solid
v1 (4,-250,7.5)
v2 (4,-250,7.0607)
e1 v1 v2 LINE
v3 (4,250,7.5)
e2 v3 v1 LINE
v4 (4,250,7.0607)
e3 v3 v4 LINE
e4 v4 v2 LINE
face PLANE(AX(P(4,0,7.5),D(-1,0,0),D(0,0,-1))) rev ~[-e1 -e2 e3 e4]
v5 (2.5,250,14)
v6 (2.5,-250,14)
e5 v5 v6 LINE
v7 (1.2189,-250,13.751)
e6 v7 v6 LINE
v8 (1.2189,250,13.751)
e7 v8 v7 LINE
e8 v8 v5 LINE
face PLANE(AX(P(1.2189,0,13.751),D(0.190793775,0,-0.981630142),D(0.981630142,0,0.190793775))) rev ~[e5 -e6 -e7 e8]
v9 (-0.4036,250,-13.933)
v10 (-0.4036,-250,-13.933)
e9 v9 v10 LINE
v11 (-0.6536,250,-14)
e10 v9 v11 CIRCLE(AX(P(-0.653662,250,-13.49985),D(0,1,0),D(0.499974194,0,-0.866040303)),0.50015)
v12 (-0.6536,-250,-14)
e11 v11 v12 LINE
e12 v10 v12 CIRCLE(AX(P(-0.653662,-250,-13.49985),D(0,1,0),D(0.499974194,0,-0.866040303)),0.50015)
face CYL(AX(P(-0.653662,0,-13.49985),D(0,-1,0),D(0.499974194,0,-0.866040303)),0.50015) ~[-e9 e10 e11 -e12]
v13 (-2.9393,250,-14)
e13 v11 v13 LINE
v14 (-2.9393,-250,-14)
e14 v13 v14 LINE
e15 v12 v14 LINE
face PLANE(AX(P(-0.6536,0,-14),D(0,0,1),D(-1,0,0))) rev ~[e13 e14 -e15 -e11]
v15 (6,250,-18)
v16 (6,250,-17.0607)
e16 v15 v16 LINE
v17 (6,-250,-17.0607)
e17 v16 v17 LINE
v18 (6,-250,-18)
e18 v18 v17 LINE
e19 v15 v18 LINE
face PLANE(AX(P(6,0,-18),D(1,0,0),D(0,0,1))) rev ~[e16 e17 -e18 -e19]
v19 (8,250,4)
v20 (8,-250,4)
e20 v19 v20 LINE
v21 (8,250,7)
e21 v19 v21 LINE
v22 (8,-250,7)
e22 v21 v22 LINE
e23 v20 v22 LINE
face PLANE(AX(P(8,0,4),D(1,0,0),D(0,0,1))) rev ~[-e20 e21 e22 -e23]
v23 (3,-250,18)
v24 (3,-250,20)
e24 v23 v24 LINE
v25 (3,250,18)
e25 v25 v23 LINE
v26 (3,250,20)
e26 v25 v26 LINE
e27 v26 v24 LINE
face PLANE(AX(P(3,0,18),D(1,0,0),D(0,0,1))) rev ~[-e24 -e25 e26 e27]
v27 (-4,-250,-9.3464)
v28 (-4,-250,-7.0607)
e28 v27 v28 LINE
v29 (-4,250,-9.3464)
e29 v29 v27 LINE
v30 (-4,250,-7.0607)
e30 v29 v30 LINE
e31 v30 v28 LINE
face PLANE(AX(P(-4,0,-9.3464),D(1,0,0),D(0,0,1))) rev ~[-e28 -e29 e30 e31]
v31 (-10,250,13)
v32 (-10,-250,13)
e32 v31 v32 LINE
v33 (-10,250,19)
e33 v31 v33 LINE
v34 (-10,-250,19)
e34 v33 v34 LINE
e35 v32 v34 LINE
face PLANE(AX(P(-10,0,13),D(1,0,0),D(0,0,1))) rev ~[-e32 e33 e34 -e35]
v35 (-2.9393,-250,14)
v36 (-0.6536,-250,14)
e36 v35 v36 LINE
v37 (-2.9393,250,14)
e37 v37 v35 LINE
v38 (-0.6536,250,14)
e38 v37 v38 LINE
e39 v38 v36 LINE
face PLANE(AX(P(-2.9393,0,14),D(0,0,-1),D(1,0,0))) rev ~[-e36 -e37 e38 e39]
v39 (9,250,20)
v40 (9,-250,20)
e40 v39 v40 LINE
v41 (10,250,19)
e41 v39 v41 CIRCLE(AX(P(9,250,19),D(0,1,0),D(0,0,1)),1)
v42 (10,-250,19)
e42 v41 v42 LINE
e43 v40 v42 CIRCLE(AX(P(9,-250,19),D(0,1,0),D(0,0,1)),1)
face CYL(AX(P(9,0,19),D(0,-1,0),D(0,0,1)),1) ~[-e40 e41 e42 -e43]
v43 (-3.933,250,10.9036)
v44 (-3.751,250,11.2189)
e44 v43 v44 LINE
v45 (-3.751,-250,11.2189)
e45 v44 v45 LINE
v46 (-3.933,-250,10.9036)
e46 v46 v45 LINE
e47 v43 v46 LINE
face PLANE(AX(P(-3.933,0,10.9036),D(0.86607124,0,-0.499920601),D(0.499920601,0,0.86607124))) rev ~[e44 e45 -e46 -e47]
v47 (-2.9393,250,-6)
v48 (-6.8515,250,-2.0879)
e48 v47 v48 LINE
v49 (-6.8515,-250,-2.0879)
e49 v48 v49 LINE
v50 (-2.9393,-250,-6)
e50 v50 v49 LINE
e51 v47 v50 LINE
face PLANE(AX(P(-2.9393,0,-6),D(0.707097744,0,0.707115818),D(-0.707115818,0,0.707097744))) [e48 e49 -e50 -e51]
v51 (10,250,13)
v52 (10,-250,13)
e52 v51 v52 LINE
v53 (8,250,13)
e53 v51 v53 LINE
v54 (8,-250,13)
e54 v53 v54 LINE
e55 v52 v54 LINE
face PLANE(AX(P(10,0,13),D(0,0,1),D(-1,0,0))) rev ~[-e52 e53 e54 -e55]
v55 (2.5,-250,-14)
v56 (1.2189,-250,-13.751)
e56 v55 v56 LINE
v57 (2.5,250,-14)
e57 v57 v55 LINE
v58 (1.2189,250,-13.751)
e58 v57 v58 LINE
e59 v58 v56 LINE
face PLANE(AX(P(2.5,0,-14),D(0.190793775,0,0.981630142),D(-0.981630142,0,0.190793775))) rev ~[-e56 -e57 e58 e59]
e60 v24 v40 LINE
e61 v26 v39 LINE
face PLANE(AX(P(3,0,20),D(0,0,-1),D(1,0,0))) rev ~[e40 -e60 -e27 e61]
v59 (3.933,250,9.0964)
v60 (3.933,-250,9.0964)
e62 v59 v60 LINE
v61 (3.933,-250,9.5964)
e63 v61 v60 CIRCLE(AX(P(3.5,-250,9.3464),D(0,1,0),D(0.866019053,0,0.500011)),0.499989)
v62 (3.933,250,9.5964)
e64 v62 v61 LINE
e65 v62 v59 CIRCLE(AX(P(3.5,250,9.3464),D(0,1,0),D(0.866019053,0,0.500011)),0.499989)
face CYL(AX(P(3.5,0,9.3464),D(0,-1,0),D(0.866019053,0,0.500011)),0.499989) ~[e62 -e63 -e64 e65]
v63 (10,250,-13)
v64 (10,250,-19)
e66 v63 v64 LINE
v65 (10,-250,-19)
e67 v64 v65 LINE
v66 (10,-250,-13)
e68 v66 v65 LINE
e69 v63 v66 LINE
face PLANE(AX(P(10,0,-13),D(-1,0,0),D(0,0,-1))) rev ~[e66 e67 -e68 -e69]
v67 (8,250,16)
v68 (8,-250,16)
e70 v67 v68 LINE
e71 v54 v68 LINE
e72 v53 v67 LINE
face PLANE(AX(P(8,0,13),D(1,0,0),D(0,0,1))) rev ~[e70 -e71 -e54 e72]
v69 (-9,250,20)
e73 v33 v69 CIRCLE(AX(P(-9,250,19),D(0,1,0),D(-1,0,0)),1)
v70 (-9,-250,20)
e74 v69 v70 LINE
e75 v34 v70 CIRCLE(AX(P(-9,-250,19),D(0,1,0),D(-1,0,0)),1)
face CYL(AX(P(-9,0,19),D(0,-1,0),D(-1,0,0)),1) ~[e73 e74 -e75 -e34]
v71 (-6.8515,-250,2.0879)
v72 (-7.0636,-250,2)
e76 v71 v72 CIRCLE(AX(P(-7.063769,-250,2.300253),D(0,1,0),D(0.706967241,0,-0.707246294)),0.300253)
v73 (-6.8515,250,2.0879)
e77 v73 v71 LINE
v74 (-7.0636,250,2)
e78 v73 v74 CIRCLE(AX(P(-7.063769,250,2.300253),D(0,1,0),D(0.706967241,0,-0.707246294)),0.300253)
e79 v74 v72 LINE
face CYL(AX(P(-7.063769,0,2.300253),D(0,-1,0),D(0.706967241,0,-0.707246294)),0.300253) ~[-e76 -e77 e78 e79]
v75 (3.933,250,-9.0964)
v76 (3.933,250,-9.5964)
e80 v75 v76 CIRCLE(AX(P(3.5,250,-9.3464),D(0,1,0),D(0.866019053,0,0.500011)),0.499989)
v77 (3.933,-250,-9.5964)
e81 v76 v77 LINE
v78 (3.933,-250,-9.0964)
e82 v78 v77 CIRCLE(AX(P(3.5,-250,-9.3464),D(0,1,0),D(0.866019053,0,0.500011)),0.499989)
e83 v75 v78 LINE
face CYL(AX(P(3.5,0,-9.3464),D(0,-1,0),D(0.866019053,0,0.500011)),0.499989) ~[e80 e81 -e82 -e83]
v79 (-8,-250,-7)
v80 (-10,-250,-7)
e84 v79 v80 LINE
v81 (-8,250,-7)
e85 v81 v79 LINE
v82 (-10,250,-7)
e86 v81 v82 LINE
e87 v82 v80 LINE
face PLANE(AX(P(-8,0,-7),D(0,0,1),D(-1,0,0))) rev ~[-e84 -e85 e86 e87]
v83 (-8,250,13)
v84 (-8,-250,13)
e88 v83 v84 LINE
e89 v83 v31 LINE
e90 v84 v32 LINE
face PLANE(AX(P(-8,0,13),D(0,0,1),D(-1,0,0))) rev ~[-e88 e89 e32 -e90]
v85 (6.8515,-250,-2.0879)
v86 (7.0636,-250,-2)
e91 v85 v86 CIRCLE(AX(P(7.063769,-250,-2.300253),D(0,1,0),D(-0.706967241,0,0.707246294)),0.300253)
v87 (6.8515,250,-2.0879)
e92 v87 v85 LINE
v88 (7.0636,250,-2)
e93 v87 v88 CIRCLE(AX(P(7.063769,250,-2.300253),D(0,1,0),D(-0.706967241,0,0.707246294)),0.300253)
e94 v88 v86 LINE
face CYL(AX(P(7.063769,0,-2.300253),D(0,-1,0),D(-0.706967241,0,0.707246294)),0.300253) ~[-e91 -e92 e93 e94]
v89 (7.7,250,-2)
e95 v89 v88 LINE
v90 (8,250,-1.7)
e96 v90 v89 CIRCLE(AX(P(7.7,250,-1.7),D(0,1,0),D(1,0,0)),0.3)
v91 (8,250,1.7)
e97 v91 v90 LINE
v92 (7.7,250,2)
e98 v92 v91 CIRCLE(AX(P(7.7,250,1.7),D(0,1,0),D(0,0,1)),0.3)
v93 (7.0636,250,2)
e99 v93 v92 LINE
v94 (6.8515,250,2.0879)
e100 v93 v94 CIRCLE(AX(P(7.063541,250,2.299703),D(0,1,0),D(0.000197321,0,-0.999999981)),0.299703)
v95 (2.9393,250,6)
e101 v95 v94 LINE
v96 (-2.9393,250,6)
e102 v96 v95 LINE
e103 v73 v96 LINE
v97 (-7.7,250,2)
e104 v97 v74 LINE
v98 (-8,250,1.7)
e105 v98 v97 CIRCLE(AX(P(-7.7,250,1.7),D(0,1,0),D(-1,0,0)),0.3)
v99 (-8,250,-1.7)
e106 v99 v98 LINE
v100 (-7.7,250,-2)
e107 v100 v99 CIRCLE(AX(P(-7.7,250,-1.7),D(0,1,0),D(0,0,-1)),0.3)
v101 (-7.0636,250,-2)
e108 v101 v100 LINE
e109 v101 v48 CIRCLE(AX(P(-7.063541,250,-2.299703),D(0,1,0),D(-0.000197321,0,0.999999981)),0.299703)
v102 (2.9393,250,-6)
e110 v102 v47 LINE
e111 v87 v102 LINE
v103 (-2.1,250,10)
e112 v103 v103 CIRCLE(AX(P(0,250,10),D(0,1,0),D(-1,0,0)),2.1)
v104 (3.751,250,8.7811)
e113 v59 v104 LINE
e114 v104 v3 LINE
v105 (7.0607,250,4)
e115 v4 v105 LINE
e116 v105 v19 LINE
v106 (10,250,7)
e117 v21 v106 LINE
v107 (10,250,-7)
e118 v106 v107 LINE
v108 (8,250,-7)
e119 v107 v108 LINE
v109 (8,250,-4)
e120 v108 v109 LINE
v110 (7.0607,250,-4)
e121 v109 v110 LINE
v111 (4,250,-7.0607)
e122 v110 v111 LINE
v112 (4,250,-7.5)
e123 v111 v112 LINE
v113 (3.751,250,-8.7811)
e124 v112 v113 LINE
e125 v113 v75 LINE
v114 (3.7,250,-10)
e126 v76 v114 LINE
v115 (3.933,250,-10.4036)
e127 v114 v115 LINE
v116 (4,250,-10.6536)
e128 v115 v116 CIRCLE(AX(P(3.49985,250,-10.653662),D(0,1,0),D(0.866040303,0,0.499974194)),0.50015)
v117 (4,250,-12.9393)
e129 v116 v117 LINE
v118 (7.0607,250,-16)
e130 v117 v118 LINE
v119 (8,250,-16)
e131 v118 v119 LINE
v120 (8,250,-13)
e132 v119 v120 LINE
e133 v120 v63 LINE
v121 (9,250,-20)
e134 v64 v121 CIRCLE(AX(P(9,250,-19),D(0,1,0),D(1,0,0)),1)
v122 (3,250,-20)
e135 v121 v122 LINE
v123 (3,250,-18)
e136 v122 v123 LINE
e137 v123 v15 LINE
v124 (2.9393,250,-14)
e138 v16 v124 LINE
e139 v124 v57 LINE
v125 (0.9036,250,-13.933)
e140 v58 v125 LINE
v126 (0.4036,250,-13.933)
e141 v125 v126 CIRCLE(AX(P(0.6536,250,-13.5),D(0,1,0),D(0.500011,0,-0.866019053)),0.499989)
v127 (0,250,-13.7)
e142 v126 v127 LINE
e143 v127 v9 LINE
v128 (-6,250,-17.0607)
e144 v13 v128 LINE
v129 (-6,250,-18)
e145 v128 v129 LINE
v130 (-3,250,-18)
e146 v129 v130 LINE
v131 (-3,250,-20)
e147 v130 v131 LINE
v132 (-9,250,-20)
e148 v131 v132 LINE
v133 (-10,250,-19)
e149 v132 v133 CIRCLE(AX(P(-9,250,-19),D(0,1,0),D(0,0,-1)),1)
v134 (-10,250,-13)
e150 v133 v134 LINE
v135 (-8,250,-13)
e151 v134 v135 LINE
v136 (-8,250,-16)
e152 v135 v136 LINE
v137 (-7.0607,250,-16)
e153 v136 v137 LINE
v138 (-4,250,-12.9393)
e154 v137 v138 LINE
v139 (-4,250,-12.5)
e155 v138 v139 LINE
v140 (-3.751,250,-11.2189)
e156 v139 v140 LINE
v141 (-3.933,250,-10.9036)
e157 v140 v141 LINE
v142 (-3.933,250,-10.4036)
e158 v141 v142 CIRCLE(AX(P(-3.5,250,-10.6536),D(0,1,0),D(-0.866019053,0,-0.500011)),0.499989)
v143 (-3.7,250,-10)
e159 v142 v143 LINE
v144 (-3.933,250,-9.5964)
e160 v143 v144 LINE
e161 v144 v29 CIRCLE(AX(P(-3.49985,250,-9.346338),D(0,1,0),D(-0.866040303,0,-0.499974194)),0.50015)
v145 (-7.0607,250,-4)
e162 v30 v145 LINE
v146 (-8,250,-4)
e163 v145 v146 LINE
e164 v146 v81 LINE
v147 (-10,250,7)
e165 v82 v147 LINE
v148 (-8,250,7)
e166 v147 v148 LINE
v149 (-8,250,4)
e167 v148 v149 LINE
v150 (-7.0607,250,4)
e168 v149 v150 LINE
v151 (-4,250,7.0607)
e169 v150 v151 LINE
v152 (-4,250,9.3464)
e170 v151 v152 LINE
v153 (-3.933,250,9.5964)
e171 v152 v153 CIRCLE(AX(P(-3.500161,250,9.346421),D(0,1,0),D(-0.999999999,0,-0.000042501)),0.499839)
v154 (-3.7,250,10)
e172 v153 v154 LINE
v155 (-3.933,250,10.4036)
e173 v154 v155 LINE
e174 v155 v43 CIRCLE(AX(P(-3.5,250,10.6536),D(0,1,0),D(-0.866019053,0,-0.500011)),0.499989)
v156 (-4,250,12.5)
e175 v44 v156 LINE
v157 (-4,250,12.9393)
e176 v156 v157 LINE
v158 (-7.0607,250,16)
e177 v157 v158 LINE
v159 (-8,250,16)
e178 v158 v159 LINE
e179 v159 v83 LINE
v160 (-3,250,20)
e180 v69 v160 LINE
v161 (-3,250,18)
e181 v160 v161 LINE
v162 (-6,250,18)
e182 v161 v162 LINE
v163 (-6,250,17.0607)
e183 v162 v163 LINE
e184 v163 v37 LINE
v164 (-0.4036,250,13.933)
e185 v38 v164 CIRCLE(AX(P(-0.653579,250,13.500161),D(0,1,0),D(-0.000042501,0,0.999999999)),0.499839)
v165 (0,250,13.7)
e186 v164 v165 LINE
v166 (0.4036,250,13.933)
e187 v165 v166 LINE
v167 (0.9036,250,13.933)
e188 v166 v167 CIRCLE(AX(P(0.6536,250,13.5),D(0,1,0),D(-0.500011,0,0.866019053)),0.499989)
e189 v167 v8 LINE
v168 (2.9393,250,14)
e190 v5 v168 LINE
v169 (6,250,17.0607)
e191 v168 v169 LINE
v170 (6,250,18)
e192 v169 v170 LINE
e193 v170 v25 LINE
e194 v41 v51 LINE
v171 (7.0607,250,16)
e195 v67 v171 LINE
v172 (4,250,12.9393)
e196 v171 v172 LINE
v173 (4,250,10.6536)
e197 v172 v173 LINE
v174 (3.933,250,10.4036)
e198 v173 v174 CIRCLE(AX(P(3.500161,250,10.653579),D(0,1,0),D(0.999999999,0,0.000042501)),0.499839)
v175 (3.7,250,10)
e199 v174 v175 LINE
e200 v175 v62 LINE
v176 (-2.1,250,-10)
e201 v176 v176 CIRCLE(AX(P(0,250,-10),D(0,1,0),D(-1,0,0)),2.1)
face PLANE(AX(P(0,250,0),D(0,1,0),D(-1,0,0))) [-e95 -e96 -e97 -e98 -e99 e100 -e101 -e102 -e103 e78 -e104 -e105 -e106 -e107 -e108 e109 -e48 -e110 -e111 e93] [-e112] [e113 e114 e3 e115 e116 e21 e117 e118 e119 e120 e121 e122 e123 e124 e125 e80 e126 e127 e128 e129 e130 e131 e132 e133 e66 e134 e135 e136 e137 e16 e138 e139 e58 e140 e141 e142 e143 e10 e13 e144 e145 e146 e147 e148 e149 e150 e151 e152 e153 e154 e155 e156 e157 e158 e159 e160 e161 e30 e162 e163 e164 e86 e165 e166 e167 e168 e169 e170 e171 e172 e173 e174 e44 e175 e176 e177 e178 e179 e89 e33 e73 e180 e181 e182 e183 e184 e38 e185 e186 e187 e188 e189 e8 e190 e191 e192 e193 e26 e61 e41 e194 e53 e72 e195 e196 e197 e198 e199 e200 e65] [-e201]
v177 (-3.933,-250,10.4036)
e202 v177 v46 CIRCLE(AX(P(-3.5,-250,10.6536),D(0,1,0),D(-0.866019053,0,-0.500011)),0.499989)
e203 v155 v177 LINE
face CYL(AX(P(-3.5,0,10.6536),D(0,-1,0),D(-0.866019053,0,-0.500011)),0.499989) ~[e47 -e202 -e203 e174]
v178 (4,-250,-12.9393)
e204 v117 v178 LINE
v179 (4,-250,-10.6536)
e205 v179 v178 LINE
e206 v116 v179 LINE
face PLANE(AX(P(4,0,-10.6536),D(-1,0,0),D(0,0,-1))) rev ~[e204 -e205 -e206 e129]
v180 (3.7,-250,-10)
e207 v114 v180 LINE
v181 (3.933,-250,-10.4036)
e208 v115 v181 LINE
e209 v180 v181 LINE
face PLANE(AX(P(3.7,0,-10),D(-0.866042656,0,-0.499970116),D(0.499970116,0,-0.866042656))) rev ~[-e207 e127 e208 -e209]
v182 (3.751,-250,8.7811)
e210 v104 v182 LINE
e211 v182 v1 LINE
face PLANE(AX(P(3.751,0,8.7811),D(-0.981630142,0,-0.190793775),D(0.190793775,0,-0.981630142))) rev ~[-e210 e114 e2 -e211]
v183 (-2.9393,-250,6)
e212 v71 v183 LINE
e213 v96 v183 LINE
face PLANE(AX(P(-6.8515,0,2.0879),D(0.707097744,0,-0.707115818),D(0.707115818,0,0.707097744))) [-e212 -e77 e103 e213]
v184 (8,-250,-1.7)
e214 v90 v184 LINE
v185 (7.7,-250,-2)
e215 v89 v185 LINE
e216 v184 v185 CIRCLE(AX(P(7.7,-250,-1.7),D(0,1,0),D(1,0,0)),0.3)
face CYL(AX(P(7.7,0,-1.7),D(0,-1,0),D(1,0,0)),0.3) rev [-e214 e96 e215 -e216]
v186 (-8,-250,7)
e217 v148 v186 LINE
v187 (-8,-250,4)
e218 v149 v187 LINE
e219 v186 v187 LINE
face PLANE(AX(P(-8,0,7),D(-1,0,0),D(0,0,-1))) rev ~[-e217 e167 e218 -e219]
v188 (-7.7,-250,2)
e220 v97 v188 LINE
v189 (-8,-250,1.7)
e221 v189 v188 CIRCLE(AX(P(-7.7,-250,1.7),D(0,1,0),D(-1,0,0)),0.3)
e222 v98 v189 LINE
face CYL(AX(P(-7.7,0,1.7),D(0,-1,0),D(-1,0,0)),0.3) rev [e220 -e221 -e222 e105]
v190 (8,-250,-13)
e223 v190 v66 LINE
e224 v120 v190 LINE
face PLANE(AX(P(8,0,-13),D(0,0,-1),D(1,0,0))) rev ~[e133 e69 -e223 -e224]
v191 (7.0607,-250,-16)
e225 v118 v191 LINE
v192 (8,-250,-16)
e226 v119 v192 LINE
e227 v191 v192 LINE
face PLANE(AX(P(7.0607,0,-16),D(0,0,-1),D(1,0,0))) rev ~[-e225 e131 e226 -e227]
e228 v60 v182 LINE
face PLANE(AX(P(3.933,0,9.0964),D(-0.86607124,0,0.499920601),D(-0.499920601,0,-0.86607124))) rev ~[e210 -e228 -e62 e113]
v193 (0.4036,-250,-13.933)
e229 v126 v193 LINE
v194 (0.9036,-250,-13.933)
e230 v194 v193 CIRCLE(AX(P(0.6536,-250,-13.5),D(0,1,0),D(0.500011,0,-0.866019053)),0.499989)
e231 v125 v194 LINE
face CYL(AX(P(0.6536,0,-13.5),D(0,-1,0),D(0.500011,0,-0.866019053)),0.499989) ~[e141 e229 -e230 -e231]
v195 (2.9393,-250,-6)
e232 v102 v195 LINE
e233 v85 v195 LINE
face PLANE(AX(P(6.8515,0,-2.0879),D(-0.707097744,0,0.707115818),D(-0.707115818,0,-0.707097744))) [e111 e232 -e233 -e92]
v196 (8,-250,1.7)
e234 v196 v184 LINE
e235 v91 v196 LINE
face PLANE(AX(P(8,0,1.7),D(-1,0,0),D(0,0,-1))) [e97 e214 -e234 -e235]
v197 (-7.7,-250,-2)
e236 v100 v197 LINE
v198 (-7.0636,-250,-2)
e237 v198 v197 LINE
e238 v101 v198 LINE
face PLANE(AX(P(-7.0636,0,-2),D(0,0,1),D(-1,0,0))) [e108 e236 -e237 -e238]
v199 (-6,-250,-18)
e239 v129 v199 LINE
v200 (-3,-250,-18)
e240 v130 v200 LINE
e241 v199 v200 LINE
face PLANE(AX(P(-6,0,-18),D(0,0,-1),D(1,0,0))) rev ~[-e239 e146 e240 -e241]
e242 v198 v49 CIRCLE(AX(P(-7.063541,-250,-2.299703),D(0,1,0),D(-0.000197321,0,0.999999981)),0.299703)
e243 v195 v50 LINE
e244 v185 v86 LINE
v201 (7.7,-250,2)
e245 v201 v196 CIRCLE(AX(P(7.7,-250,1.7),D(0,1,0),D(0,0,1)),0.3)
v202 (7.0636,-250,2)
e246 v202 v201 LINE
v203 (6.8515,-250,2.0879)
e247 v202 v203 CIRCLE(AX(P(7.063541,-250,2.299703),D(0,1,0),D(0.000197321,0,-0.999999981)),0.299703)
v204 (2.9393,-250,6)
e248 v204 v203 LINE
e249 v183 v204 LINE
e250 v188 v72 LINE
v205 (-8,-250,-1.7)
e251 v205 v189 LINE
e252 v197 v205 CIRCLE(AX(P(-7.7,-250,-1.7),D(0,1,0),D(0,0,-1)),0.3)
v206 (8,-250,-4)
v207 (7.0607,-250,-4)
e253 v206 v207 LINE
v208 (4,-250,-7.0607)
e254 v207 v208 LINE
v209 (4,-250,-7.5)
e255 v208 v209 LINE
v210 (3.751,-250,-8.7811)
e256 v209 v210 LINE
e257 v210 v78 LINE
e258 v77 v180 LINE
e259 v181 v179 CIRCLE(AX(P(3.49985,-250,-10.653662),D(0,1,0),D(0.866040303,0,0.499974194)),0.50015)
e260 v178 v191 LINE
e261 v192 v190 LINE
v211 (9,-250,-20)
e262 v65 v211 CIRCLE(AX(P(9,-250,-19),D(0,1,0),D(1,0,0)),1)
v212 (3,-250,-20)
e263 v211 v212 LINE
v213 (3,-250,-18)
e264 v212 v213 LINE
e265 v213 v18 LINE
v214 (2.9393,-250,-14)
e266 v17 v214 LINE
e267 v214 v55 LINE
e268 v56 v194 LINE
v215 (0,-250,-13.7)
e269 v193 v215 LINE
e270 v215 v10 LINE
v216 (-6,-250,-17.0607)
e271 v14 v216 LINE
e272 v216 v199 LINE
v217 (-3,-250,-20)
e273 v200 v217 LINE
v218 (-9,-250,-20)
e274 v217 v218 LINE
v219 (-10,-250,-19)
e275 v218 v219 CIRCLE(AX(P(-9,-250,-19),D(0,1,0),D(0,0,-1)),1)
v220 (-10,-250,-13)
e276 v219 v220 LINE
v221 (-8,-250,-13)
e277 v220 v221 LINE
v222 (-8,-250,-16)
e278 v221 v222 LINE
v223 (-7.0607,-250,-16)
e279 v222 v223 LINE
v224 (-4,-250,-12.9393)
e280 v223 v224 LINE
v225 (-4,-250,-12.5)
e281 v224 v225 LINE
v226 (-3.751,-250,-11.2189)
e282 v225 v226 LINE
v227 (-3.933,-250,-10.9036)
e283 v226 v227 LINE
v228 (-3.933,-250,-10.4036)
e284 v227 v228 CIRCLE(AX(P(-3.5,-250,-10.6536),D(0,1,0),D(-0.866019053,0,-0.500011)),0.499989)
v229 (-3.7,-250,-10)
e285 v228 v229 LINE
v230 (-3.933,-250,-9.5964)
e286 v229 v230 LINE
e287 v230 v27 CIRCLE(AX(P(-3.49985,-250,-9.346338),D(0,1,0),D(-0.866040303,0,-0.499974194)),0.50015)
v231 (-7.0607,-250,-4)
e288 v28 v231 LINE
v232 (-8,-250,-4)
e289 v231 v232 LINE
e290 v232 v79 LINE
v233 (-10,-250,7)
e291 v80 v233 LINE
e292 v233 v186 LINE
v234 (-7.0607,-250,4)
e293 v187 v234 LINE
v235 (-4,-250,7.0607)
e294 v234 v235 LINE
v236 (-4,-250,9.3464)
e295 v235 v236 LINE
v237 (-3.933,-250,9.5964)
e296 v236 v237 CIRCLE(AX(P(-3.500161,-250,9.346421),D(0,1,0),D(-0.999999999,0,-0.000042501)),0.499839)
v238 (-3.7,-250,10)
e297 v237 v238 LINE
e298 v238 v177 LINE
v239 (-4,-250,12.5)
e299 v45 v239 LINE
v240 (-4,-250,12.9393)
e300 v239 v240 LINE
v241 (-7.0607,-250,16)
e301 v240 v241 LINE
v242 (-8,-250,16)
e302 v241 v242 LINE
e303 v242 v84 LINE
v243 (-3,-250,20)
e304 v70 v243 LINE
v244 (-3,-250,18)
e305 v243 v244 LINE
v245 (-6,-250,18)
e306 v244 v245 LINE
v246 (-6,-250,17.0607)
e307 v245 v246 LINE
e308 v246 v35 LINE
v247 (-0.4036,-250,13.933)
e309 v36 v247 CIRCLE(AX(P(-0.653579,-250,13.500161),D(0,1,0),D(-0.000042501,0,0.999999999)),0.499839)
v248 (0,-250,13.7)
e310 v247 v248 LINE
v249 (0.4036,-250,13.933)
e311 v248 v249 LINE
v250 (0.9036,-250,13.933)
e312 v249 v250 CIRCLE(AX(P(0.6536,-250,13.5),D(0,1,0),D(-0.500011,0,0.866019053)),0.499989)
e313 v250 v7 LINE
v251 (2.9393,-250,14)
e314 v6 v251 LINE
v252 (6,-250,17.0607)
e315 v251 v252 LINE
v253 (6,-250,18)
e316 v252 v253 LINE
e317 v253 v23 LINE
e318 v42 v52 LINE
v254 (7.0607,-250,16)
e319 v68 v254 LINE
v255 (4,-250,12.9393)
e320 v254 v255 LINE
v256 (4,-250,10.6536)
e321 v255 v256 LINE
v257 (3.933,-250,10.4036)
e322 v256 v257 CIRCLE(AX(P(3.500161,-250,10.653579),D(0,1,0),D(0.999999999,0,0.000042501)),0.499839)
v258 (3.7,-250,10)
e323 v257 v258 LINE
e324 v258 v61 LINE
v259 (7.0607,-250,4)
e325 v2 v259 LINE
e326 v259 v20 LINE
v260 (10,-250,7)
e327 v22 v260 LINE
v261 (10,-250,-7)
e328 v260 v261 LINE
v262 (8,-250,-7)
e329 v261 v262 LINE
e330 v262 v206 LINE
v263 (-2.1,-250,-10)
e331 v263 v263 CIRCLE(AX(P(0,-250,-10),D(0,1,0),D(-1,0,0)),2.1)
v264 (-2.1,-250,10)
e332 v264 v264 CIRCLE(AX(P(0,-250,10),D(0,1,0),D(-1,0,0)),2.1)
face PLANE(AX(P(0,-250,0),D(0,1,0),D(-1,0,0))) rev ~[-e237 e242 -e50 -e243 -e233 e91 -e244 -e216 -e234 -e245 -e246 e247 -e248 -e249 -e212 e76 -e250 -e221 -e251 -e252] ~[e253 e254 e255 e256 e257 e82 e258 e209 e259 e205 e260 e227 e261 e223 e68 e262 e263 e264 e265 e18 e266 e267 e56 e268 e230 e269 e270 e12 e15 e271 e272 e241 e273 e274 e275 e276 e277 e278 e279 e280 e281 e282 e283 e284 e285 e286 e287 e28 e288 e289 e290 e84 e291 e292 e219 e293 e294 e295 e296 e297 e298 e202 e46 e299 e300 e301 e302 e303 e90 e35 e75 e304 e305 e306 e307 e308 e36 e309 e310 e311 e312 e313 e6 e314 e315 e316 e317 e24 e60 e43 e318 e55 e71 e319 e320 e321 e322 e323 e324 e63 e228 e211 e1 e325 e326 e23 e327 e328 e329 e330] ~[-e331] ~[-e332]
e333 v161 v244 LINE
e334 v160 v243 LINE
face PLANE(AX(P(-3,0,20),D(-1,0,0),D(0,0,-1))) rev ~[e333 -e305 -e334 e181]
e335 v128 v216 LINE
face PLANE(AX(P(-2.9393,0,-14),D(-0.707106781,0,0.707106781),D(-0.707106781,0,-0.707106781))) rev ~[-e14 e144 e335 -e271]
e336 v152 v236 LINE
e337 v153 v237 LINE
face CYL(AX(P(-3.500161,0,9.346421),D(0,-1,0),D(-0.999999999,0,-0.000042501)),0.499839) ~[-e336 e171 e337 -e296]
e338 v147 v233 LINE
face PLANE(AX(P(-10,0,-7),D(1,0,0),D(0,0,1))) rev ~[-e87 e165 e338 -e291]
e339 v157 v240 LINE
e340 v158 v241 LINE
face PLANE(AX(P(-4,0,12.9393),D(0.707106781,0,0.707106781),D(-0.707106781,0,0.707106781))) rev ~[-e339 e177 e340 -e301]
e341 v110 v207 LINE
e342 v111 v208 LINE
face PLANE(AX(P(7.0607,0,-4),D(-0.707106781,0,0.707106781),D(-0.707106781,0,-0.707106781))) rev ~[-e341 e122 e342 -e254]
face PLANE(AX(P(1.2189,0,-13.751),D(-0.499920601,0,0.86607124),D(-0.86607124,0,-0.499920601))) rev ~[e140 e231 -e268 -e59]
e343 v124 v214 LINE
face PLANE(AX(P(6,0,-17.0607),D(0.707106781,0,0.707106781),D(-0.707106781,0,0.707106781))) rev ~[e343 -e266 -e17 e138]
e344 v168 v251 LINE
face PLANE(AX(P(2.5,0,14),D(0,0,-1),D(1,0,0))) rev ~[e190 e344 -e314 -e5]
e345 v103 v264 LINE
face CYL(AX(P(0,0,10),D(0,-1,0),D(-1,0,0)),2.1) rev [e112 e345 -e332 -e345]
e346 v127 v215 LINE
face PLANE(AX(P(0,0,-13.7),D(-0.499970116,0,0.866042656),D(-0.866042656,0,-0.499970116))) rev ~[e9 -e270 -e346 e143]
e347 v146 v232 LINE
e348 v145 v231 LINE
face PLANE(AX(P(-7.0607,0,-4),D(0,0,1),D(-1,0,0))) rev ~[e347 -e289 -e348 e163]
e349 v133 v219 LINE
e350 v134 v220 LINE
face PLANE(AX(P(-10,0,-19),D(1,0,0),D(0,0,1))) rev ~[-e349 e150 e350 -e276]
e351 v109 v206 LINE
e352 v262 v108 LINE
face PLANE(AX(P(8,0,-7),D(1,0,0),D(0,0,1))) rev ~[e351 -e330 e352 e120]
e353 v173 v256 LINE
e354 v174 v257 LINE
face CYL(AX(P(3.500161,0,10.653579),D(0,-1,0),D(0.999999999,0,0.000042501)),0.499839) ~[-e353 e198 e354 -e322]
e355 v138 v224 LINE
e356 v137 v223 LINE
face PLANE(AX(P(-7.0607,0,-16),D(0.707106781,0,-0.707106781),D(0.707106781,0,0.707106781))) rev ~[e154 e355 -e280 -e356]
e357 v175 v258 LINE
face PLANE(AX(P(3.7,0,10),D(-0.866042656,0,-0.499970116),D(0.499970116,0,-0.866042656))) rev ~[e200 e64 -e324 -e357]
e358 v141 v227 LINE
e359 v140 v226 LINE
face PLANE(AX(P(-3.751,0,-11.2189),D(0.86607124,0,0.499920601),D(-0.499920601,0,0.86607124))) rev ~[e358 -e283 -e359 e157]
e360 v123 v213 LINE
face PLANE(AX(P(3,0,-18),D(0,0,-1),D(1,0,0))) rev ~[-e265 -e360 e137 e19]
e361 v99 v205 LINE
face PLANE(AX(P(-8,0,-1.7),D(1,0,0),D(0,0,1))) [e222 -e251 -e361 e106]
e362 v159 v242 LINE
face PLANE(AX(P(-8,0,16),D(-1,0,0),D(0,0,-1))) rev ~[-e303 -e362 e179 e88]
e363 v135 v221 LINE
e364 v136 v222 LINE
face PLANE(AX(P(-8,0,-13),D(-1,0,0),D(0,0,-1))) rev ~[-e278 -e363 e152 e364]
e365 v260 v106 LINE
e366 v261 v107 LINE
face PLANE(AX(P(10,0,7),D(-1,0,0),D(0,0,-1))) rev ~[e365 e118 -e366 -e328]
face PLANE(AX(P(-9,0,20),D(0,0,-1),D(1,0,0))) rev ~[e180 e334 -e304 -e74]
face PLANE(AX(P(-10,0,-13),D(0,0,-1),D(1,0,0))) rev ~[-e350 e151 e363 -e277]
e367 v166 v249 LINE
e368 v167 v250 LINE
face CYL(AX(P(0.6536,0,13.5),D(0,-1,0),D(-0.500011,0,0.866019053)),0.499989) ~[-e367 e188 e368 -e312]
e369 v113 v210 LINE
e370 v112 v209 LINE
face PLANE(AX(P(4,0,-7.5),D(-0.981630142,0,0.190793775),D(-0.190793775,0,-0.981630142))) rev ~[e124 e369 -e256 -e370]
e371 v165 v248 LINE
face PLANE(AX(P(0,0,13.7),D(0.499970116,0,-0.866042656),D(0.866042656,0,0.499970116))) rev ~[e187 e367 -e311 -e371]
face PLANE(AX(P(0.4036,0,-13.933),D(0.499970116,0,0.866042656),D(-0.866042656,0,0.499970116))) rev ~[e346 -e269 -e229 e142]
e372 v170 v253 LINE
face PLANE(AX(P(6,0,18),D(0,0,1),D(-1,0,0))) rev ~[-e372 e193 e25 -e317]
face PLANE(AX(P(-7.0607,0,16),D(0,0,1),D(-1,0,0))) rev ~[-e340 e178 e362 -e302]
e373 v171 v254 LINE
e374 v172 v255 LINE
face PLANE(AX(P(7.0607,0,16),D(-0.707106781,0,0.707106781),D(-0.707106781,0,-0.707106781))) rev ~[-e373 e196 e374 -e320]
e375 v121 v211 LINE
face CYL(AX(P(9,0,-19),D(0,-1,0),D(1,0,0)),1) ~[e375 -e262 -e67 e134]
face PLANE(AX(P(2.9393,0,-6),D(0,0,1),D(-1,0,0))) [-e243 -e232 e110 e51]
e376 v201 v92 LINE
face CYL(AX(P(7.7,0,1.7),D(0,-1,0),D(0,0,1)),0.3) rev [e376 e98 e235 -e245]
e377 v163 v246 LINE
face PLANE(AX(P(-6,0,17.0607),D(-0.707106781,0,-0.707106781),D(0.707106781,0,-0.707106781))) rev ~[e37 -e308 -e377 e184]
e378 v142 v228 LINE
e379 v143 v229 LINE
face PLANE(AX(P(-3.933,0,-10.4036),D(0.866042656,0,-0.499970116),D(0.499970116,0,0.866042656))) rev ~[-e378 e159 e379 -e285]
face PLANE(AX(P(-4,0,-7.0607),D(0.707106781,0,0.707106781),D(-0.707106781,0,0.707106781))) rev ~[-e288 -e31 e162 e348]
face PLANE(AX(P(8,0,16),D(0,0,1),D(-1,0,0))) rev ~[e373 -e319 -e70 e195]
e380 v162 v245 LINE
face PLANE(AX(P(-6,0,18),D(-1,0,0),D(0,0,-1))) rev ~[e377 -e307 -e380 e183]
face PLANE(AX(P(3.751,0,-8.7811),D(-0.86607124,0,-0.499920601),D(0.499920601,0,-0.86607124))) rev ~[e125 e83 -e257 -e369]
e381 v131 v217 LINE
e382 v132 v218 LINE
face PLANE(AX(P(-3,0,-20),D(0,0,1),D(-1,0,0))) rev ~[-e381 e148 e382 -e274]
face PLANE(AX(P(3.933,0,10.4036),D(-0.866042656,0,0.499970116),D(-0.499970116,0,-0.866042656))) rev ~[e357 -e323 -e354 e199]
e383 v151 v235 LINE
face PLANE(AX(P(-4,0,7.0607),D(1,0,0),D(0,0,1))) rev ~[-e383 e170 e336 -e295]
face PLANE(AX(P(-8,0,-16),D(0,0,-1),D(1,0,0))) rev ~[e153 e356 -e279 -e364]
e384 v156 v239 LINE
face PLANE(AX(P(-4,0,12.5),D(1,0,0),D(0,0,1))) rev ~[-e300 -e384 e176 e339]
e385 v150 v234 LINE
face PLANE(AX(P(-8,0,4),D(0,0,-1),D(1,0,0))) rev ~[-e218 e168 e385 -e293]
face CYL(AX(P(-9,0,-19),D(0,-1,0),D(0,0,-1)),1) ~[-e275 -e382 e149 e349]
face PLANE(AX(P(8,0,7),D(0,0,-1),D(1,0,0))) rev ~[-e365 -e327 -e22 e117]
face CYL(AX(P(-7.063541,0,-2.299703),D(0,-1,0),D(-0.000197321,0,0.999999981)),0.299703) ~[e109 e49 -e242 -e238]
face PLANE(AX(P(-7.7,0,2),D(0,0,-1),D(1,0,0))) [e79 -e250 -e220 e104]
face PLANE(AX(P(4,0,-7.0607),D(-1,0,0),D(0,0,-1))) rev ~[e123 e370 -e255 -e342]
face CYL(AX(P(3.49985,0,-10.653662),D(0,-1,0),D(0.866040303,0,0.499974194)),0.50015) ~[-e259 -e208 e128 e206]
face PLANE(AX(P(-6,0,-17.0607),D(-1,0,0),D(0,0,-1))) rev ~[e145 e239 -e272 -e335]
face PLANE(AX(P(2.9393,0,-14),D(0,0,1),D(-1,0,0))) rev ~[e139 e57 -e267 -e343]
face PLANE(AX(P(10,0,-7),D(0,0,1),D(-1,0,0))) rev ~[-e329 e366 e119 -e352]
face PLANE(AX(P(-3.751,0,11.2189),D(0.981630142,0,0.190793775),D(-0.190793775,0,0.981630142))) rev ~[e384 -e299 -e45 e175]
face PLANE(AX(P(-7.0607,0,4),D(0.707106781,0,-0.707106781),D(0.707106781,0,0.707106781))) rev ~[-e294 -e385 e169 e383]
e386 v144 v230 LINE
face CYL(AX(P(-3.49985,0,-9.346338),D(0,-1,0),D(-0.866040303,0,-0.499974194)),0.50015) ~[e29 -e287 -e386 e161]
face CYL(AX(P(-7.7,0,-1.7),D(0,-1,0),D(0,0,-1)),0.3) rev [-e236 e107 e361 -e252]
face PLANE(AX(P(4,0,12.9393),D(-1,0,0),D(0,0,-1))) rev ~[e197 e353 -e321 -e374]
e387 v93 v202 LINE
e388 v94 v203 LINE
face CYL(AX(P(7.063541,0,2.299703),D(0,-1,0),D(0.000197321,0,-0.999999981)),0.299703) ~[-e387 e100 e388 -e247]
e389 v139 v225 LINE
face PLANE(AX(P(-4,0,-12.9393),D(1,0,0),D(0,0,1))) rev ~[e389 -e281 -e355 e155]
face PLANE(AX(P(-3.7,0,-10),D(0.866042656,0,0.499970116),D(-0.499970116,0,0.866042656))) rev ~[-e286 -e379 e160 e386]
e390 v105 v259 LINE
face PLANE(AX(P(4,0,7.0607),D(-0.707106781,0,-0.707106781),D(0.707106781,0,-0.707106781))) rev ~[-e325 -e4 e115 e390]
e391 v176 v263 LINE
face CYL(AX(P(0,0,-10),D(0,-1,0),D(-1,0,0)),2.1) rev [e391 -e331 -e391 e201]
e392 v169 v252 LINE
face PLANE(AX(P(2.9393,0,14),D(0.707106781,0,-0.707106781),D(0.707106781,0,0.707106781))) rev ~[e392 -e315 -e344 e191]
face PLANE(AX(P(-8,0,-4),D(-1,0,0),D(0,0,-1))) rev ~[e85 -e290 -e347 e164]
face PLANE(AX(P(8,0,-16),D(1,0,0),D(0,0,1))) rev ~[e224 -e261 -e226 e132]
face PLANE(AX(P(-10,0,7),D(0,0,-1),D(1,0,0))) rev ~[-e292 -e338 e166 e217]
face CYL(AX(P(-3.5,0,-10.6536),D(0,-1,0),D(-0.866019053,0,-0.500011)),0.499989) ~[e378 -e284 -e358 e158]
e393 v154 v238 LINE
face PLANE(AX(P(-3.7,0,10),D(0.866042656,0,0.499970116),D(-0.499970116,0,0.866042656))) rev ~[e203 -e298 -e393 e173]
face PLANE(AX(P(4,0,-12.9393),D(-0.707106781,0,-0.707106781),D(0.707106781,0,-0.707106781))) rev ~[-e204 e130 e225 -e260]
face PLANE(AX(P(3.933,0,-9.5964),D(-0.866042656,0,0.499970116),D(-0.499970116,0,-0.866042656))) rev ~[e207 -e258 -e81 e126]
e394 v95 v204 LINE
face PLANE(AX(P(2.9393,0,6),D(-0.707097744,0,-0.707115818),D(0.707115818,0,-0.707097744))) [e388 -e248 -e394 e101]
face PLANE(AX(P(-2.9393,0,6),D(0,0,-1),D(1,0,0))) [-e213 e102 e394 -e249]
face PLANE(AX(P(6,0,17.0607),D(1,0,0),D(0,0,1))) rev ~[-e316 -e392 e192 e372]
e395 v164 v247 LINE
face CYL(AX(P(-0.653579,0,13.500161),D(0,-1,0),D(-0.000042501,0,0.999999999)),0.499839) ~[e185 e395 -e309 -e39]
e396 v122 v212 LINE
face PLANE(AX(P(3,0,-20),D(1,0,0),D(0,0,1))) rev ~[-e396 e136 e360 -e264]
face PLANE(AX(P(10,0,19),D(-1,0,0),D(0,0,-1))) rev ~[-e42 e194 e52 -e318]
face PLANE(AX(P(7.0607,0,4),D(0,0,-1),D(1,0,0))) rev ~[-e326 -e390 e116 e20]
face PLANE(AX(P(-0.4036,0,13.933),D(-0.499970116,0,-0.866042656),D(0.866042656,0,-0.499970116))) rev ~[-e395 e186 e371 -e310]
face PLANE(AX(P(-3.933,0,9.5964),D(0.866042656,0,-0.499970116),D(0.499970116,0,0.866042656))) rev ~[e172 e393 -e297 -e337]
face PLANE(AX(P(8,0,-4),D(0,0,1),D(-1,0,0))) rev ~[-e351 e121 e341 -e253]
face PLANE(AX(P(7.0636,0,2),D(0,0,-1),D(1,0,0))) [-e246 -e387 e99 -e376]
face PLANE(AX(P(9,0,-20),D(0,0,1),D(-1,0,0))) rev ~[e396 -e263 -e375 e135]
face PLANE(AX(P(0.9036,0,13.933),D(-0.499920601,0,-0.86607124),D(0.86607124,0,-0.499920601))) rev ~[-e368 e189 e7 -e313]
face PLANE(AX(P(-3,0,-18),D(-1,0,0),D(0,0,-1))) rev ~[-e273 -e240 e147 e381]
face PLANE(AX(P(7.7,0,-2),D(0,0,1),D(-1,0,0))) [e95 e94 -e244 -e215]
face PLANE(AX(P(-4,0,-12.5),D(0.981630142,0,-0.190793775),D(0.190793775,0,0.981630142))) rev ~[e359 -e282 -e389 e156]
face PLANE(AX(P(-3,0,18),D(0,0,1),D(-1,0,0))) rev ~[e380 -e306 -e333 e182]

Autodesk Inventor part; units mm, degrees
ref_plane "YZ Plane" through (0, 0, 0) normal (1, 0, 0) x (0, 1, 0)
ref_plane "XZ Plane" through (0, 0, 0) normal (0, 1, 0) x (-1, 0, 0)
ref_plane "XY Plane" through (0, 0, 0) normal (0, 0, 1) x (1, 0, 0)
sketch "Sketch1" plane through (0, 0, 0) normal (0, 1, 0) x (-1, 0, 0)
  line L0 (-10, 7) -> (-10, -7)
  line L1 (-10, -7) -> (-8, -7)
  line L2 (-8, -7) -> (-8, -4)
  line L3 (-8, -4) -> (-7.0607, -4)
  line L4 (-7.0607, -4) -> (-4, -7.0607)
  line L5 (-4, -7.0607) -> (-4, -7.5)
  line L6 (-4, -7.5) -> (-3.751, -8.7811)
  line L7 (-3.751, -8.7811) -> (-3.933, -9.0964)
  arc A0 (-3.933, -9.0964) -> (-3.933, -9.5964) centre (-3.5, -9.3464) ccw
  line L8 (-3.933, -9.5964) -> (-3.7, -10)
  line L9 (-3.7, -10) -> (-3.933, -10.4036)
  arc A1 (-3.933, -10.4036) -> (-4, -10.6536) centre (-3.5, -10.6536) ccw
  line L10 (-4, -10.6536) -> (-4, -12.9393)
  line L11 (-4, -12.9393) -> (-7.0607, -16)
  line L12 (-7.0607, -16) -> (-8, -16)
  line L13 (-8, -16) -> (-8, -13)
  line L14 (-8, -13) -> (-10, -13)
  line L15 (-10, -13) -> (-10, -19)
  arc A2 (-10, -19) -> (-9, -20) centre (-9, -19) ccw
  line L16 (-9, -20) -> (-3, -20)
  line L17 (-3, -20) -> (-3, -18)
  line L18 (-3, -18) -> (-6, -18)
  line L19 (-6, -18) -> (-6, -17.0607)
  line L20 (-6, -17.0607) -> (-2.9393, -14)
  line L21 (-2.9393, -14) -> (-2.5, -14)
  line L22 (-2.5, -14) -> (-1.2189, -13.751)
  line L23 (-1.2189, -13.751) -> (-0.9036, -13.933)
  arc A3 (-0.9036, -13.933) -> (-0.4036, -13.933) centre (-0.6536, -13.5) ccw
  line L24 (-0.4036, -13.933) -> (0, -13.7)
  line L25 (0, -13.7) -> (0.4036, -13.933)
  arc A4 (0.4036, -13.933) -> (0.6536, -14) centre (0.6536, -13.5) ccw
  line L26 (0.6536, -14) -> (2.9393, -14)
  line L27 (2.9393, -14) -> (6, -17.0607)
  line L28 (6, -17.0607) -> (6, -18)
  line L29 (6, -18) -> (3, -18)
  line L30 (3, -18) -> (3, -20)
  line L31 (3, -20) -> (9, -20)
  arc A5 (9, -20) -> (10, -19) centre (9, -19) ccw
  line L32 (10, -19) -> (10, -13)
  line L33 (10, -13) -> (8, -13)
  line L34 (8, -13) -> (8, -16)
  line L35 (8, -16) -> (7.0607, -16)
  line L36 (7.0607, -16) -> (4, -12.9393)
  line L37 (4, -12.9393) -> (4, -12.5)
  line L38 (4, -12.5) -> (3.751, -11.2189)
  line L39 (3.751, -11.2189) -> (3.933, -10.9036)
  arc A6 (3.933, -10.9036) -> (3.933, -10.4036) centre (3.5, -10.6536) ccw
  line L40 (3.933, -10.4036) -> (3.7, -10)
  line L41 (3.7, -10) -> (3.933, -9.5964)
  arc A7 (3.933, -9.5964) -> (4, -9.3464) centre (3.5, -9.3464) ccw
  line L42 (4, -9.3464) -> (4, -7.0607)
  line L43 (4, -7.0607) -> (7.0607, -4)
  line L44 (7.0607, -4) -> (8, -4)
  line L45 (8, -4) -> (8, -7)
  line L46 (8, -7) -> (10, -7)
  line L47 (10, -7) -> (10, 7)
  line L48 (10, 7) -> (8, 7)
  line L49 (8, 7) -> (8, 4)
  line L50 (8, 4) -> (7.0607, 4)
  line L51 (7.0607, 4) -> (4, 7.0607)
  line L52 (4, 7.0607) -> (4, 9.3464)
  arc A8 (4, 9.3464) -> (3.933, 9.5964) centre (3.5, 9.3464) ccw
  line L53 (3.933, 9.5964) -> (3.7, 10)
  line L54 (3.7, 10) -> (3.933, 10.4036)
  arc A9 (3.933, 10.4036) -> (3.933, 10.9036) centre (3.5, 10.6536) ccw
  line L55 (3.933, 10.9036) -> (3.751, 11.2189)
  line L56 (3.751, 11.2189) -> (4, 12.5)
  line L57 (4, 12.5) -> (4, 12.9393)
  line L58 (4, 12.9393) -> (7.0607, 16)
  line L59 (7.0607, 16) -> (8, 16)
  line L60 (8, 16) -> (8, 13)
  line L61 (8, 13) -> (10, 13)
  line L62 (10, 13) -> (10, 19)
  arc A10 (10, 19) -> (9, 20) centre (9, 19) ccw
  line L63 (9, 20) -> (3, 20)
  line L64 (3, 20) -> (3, 18)
  line L65 (3, 18) -> (6, 18)
  line L66 (6, 18) -> (6, 17.0607)
  line L67 (6, 17.0607) -> (2.9393, 14)
  line L68 (2.9393, 14) -> (0.6536, 14)
  arc A11 (0.6536, 14) -> (0.4036, 13.933) centre (0.6536, 13.5) ccw
  line L69 (0.4036, 13.933) -> (0, 13.7)
  line L70 (0, 13.7) -> (-0.4036, 13.933)
  arc A12 (-0.4036, 13.933) -> (-0.9036, 13.933) centre (-0.6536, 13.5) ccw
  line L71 (-0.9036, 13.933) -> (-1.2189, 13.751)
  line L72 (-1.2189, 13.751) -> (-2.5, 14)
  line L73 (-2.5, 14) -> (-2.9393, 14)
  line L74 (-2.9393, 14) -> (-6, 17.0607)
  line L75 (-6, 17.0607) -> (-6, 18)
  line L76 (-6, 18) -> (-3, 18)
  line L77 (-3, 18) -> (-3, 20)
  line L78 (-3, 20) -> (-9, 20)
  arc A13 (-9, 20) -> (-10, 19) centre (-9, 19) ccw
  line L79 (-10, 19) -> (-10, 13)
  line L80 (-10, 13) -> (-8, 13)
  line L81 (-8, 13) -> (-8, 16)
  line L82 (-8, 16) -> (-7.0607, 16)
  line L83 (-7.0607, 16) -> (-4, 12.9393)
  line L84 (-4, 12.9393) -> (-4, 10.6536)
  arc A14 (-4, 10.6536) -> (-3.933, 10.4036) centre (-3.5, 10.6536) ccw
  line L85 (-3.933, 10.4036) -> (-3.7, 10)
  line L86 (-3.7, 10) -> (-3.933, 9.5964)
  arc A15 (-3.933, 9.5964) -> (-3.933, 9.0964) centre (-3.5, 9.3464) ccw
  line L87 (-3.933, 9.0964) -> (-3.751, 8.7811)
  line L88 (-3.751, 8.7811) -> (-4, 7.5)
  line L89 (-4, 7.5) -> (-4, 7.0607)
  line L90 (-4, 7.0607) -> (-7.0607, 4)
  line L91 (-7.0607, 4) -> (-8, 4)
  line L92 (-8, 4) -> (-8, 7)
  arc A16 (-7.7, 2) -> (-8, 1.7) centre (-7.7, 1.7) ccw
  line L93 (-7.0636, 2) -> (-7.7, 2)
  arc A17 (-7.0636, 2) -> (-6.8515, 2.0879) centre (-7.0636, 2.3) ccw
  line L94 (-2.9393, 6) -> (-6.8515, 2.0879)
  line L95 (2.9393, 6) -> (-2.9393, 6)
  line L96 (6.8515, 2.0879) -> (2.9393, 6)
  arc A18 (6.8515, 2.0879) -> (7.0636, 2) centre (7.0636, 2.3) ccw
  line L97 (7.7, 2) -> (7.0636, 2)
  arc A19 (8, 1.7) -> (7.7, 2) centre (7.7, 1.7) ccw
  line L98 (8, -1.7) -> (8, 1.7)
  arc A20 (7.7, -2) -> (8, -1.7) centre (7.7, -1.7) ccw
  line L99 (7.0636, -2) -> (7.7, -2)
  arc A21 (7.0636, -2) -> (6.8515, -2.0879) centre (7.0636, -2.3) ccw
  line L100 (2.9393, -6) -> (6.8515, -2.0879)
  line L101 (-2.9393, -6) -> (2.9393, -6)
  line L102 (-6.8515, -2.0879) -> (-2.9393, -6)
  arc A22 (-6.8515, -2.0879) -> (-7.0636, -2) centre (-7.0636, -2.3) ccw
  line L103 (-7.7, -2) -> (-7.0636, -2)
  arc A23 (-8, -1.7) -> (-7.7, -2) centre (-7.7, -1.7) ccw
  line L104 (-8, 1.7) -> (-8, -1.7)
  line L105 (-8, 7) -> (-10, 7)
  circle A24 centre (0, 10) radius 2.1
  circle A25 centre (0, -10) radius 2.1
  line L106 (0, -10) -> (0, 10) construction
  point P0 (0, 0)
  point P1 (0, 0)
extrude "Extrusion1" add sketch "Sketch1" along normal mid plane 500
properties part number "HFS5-2040-400" material "Aluminum 6061"
